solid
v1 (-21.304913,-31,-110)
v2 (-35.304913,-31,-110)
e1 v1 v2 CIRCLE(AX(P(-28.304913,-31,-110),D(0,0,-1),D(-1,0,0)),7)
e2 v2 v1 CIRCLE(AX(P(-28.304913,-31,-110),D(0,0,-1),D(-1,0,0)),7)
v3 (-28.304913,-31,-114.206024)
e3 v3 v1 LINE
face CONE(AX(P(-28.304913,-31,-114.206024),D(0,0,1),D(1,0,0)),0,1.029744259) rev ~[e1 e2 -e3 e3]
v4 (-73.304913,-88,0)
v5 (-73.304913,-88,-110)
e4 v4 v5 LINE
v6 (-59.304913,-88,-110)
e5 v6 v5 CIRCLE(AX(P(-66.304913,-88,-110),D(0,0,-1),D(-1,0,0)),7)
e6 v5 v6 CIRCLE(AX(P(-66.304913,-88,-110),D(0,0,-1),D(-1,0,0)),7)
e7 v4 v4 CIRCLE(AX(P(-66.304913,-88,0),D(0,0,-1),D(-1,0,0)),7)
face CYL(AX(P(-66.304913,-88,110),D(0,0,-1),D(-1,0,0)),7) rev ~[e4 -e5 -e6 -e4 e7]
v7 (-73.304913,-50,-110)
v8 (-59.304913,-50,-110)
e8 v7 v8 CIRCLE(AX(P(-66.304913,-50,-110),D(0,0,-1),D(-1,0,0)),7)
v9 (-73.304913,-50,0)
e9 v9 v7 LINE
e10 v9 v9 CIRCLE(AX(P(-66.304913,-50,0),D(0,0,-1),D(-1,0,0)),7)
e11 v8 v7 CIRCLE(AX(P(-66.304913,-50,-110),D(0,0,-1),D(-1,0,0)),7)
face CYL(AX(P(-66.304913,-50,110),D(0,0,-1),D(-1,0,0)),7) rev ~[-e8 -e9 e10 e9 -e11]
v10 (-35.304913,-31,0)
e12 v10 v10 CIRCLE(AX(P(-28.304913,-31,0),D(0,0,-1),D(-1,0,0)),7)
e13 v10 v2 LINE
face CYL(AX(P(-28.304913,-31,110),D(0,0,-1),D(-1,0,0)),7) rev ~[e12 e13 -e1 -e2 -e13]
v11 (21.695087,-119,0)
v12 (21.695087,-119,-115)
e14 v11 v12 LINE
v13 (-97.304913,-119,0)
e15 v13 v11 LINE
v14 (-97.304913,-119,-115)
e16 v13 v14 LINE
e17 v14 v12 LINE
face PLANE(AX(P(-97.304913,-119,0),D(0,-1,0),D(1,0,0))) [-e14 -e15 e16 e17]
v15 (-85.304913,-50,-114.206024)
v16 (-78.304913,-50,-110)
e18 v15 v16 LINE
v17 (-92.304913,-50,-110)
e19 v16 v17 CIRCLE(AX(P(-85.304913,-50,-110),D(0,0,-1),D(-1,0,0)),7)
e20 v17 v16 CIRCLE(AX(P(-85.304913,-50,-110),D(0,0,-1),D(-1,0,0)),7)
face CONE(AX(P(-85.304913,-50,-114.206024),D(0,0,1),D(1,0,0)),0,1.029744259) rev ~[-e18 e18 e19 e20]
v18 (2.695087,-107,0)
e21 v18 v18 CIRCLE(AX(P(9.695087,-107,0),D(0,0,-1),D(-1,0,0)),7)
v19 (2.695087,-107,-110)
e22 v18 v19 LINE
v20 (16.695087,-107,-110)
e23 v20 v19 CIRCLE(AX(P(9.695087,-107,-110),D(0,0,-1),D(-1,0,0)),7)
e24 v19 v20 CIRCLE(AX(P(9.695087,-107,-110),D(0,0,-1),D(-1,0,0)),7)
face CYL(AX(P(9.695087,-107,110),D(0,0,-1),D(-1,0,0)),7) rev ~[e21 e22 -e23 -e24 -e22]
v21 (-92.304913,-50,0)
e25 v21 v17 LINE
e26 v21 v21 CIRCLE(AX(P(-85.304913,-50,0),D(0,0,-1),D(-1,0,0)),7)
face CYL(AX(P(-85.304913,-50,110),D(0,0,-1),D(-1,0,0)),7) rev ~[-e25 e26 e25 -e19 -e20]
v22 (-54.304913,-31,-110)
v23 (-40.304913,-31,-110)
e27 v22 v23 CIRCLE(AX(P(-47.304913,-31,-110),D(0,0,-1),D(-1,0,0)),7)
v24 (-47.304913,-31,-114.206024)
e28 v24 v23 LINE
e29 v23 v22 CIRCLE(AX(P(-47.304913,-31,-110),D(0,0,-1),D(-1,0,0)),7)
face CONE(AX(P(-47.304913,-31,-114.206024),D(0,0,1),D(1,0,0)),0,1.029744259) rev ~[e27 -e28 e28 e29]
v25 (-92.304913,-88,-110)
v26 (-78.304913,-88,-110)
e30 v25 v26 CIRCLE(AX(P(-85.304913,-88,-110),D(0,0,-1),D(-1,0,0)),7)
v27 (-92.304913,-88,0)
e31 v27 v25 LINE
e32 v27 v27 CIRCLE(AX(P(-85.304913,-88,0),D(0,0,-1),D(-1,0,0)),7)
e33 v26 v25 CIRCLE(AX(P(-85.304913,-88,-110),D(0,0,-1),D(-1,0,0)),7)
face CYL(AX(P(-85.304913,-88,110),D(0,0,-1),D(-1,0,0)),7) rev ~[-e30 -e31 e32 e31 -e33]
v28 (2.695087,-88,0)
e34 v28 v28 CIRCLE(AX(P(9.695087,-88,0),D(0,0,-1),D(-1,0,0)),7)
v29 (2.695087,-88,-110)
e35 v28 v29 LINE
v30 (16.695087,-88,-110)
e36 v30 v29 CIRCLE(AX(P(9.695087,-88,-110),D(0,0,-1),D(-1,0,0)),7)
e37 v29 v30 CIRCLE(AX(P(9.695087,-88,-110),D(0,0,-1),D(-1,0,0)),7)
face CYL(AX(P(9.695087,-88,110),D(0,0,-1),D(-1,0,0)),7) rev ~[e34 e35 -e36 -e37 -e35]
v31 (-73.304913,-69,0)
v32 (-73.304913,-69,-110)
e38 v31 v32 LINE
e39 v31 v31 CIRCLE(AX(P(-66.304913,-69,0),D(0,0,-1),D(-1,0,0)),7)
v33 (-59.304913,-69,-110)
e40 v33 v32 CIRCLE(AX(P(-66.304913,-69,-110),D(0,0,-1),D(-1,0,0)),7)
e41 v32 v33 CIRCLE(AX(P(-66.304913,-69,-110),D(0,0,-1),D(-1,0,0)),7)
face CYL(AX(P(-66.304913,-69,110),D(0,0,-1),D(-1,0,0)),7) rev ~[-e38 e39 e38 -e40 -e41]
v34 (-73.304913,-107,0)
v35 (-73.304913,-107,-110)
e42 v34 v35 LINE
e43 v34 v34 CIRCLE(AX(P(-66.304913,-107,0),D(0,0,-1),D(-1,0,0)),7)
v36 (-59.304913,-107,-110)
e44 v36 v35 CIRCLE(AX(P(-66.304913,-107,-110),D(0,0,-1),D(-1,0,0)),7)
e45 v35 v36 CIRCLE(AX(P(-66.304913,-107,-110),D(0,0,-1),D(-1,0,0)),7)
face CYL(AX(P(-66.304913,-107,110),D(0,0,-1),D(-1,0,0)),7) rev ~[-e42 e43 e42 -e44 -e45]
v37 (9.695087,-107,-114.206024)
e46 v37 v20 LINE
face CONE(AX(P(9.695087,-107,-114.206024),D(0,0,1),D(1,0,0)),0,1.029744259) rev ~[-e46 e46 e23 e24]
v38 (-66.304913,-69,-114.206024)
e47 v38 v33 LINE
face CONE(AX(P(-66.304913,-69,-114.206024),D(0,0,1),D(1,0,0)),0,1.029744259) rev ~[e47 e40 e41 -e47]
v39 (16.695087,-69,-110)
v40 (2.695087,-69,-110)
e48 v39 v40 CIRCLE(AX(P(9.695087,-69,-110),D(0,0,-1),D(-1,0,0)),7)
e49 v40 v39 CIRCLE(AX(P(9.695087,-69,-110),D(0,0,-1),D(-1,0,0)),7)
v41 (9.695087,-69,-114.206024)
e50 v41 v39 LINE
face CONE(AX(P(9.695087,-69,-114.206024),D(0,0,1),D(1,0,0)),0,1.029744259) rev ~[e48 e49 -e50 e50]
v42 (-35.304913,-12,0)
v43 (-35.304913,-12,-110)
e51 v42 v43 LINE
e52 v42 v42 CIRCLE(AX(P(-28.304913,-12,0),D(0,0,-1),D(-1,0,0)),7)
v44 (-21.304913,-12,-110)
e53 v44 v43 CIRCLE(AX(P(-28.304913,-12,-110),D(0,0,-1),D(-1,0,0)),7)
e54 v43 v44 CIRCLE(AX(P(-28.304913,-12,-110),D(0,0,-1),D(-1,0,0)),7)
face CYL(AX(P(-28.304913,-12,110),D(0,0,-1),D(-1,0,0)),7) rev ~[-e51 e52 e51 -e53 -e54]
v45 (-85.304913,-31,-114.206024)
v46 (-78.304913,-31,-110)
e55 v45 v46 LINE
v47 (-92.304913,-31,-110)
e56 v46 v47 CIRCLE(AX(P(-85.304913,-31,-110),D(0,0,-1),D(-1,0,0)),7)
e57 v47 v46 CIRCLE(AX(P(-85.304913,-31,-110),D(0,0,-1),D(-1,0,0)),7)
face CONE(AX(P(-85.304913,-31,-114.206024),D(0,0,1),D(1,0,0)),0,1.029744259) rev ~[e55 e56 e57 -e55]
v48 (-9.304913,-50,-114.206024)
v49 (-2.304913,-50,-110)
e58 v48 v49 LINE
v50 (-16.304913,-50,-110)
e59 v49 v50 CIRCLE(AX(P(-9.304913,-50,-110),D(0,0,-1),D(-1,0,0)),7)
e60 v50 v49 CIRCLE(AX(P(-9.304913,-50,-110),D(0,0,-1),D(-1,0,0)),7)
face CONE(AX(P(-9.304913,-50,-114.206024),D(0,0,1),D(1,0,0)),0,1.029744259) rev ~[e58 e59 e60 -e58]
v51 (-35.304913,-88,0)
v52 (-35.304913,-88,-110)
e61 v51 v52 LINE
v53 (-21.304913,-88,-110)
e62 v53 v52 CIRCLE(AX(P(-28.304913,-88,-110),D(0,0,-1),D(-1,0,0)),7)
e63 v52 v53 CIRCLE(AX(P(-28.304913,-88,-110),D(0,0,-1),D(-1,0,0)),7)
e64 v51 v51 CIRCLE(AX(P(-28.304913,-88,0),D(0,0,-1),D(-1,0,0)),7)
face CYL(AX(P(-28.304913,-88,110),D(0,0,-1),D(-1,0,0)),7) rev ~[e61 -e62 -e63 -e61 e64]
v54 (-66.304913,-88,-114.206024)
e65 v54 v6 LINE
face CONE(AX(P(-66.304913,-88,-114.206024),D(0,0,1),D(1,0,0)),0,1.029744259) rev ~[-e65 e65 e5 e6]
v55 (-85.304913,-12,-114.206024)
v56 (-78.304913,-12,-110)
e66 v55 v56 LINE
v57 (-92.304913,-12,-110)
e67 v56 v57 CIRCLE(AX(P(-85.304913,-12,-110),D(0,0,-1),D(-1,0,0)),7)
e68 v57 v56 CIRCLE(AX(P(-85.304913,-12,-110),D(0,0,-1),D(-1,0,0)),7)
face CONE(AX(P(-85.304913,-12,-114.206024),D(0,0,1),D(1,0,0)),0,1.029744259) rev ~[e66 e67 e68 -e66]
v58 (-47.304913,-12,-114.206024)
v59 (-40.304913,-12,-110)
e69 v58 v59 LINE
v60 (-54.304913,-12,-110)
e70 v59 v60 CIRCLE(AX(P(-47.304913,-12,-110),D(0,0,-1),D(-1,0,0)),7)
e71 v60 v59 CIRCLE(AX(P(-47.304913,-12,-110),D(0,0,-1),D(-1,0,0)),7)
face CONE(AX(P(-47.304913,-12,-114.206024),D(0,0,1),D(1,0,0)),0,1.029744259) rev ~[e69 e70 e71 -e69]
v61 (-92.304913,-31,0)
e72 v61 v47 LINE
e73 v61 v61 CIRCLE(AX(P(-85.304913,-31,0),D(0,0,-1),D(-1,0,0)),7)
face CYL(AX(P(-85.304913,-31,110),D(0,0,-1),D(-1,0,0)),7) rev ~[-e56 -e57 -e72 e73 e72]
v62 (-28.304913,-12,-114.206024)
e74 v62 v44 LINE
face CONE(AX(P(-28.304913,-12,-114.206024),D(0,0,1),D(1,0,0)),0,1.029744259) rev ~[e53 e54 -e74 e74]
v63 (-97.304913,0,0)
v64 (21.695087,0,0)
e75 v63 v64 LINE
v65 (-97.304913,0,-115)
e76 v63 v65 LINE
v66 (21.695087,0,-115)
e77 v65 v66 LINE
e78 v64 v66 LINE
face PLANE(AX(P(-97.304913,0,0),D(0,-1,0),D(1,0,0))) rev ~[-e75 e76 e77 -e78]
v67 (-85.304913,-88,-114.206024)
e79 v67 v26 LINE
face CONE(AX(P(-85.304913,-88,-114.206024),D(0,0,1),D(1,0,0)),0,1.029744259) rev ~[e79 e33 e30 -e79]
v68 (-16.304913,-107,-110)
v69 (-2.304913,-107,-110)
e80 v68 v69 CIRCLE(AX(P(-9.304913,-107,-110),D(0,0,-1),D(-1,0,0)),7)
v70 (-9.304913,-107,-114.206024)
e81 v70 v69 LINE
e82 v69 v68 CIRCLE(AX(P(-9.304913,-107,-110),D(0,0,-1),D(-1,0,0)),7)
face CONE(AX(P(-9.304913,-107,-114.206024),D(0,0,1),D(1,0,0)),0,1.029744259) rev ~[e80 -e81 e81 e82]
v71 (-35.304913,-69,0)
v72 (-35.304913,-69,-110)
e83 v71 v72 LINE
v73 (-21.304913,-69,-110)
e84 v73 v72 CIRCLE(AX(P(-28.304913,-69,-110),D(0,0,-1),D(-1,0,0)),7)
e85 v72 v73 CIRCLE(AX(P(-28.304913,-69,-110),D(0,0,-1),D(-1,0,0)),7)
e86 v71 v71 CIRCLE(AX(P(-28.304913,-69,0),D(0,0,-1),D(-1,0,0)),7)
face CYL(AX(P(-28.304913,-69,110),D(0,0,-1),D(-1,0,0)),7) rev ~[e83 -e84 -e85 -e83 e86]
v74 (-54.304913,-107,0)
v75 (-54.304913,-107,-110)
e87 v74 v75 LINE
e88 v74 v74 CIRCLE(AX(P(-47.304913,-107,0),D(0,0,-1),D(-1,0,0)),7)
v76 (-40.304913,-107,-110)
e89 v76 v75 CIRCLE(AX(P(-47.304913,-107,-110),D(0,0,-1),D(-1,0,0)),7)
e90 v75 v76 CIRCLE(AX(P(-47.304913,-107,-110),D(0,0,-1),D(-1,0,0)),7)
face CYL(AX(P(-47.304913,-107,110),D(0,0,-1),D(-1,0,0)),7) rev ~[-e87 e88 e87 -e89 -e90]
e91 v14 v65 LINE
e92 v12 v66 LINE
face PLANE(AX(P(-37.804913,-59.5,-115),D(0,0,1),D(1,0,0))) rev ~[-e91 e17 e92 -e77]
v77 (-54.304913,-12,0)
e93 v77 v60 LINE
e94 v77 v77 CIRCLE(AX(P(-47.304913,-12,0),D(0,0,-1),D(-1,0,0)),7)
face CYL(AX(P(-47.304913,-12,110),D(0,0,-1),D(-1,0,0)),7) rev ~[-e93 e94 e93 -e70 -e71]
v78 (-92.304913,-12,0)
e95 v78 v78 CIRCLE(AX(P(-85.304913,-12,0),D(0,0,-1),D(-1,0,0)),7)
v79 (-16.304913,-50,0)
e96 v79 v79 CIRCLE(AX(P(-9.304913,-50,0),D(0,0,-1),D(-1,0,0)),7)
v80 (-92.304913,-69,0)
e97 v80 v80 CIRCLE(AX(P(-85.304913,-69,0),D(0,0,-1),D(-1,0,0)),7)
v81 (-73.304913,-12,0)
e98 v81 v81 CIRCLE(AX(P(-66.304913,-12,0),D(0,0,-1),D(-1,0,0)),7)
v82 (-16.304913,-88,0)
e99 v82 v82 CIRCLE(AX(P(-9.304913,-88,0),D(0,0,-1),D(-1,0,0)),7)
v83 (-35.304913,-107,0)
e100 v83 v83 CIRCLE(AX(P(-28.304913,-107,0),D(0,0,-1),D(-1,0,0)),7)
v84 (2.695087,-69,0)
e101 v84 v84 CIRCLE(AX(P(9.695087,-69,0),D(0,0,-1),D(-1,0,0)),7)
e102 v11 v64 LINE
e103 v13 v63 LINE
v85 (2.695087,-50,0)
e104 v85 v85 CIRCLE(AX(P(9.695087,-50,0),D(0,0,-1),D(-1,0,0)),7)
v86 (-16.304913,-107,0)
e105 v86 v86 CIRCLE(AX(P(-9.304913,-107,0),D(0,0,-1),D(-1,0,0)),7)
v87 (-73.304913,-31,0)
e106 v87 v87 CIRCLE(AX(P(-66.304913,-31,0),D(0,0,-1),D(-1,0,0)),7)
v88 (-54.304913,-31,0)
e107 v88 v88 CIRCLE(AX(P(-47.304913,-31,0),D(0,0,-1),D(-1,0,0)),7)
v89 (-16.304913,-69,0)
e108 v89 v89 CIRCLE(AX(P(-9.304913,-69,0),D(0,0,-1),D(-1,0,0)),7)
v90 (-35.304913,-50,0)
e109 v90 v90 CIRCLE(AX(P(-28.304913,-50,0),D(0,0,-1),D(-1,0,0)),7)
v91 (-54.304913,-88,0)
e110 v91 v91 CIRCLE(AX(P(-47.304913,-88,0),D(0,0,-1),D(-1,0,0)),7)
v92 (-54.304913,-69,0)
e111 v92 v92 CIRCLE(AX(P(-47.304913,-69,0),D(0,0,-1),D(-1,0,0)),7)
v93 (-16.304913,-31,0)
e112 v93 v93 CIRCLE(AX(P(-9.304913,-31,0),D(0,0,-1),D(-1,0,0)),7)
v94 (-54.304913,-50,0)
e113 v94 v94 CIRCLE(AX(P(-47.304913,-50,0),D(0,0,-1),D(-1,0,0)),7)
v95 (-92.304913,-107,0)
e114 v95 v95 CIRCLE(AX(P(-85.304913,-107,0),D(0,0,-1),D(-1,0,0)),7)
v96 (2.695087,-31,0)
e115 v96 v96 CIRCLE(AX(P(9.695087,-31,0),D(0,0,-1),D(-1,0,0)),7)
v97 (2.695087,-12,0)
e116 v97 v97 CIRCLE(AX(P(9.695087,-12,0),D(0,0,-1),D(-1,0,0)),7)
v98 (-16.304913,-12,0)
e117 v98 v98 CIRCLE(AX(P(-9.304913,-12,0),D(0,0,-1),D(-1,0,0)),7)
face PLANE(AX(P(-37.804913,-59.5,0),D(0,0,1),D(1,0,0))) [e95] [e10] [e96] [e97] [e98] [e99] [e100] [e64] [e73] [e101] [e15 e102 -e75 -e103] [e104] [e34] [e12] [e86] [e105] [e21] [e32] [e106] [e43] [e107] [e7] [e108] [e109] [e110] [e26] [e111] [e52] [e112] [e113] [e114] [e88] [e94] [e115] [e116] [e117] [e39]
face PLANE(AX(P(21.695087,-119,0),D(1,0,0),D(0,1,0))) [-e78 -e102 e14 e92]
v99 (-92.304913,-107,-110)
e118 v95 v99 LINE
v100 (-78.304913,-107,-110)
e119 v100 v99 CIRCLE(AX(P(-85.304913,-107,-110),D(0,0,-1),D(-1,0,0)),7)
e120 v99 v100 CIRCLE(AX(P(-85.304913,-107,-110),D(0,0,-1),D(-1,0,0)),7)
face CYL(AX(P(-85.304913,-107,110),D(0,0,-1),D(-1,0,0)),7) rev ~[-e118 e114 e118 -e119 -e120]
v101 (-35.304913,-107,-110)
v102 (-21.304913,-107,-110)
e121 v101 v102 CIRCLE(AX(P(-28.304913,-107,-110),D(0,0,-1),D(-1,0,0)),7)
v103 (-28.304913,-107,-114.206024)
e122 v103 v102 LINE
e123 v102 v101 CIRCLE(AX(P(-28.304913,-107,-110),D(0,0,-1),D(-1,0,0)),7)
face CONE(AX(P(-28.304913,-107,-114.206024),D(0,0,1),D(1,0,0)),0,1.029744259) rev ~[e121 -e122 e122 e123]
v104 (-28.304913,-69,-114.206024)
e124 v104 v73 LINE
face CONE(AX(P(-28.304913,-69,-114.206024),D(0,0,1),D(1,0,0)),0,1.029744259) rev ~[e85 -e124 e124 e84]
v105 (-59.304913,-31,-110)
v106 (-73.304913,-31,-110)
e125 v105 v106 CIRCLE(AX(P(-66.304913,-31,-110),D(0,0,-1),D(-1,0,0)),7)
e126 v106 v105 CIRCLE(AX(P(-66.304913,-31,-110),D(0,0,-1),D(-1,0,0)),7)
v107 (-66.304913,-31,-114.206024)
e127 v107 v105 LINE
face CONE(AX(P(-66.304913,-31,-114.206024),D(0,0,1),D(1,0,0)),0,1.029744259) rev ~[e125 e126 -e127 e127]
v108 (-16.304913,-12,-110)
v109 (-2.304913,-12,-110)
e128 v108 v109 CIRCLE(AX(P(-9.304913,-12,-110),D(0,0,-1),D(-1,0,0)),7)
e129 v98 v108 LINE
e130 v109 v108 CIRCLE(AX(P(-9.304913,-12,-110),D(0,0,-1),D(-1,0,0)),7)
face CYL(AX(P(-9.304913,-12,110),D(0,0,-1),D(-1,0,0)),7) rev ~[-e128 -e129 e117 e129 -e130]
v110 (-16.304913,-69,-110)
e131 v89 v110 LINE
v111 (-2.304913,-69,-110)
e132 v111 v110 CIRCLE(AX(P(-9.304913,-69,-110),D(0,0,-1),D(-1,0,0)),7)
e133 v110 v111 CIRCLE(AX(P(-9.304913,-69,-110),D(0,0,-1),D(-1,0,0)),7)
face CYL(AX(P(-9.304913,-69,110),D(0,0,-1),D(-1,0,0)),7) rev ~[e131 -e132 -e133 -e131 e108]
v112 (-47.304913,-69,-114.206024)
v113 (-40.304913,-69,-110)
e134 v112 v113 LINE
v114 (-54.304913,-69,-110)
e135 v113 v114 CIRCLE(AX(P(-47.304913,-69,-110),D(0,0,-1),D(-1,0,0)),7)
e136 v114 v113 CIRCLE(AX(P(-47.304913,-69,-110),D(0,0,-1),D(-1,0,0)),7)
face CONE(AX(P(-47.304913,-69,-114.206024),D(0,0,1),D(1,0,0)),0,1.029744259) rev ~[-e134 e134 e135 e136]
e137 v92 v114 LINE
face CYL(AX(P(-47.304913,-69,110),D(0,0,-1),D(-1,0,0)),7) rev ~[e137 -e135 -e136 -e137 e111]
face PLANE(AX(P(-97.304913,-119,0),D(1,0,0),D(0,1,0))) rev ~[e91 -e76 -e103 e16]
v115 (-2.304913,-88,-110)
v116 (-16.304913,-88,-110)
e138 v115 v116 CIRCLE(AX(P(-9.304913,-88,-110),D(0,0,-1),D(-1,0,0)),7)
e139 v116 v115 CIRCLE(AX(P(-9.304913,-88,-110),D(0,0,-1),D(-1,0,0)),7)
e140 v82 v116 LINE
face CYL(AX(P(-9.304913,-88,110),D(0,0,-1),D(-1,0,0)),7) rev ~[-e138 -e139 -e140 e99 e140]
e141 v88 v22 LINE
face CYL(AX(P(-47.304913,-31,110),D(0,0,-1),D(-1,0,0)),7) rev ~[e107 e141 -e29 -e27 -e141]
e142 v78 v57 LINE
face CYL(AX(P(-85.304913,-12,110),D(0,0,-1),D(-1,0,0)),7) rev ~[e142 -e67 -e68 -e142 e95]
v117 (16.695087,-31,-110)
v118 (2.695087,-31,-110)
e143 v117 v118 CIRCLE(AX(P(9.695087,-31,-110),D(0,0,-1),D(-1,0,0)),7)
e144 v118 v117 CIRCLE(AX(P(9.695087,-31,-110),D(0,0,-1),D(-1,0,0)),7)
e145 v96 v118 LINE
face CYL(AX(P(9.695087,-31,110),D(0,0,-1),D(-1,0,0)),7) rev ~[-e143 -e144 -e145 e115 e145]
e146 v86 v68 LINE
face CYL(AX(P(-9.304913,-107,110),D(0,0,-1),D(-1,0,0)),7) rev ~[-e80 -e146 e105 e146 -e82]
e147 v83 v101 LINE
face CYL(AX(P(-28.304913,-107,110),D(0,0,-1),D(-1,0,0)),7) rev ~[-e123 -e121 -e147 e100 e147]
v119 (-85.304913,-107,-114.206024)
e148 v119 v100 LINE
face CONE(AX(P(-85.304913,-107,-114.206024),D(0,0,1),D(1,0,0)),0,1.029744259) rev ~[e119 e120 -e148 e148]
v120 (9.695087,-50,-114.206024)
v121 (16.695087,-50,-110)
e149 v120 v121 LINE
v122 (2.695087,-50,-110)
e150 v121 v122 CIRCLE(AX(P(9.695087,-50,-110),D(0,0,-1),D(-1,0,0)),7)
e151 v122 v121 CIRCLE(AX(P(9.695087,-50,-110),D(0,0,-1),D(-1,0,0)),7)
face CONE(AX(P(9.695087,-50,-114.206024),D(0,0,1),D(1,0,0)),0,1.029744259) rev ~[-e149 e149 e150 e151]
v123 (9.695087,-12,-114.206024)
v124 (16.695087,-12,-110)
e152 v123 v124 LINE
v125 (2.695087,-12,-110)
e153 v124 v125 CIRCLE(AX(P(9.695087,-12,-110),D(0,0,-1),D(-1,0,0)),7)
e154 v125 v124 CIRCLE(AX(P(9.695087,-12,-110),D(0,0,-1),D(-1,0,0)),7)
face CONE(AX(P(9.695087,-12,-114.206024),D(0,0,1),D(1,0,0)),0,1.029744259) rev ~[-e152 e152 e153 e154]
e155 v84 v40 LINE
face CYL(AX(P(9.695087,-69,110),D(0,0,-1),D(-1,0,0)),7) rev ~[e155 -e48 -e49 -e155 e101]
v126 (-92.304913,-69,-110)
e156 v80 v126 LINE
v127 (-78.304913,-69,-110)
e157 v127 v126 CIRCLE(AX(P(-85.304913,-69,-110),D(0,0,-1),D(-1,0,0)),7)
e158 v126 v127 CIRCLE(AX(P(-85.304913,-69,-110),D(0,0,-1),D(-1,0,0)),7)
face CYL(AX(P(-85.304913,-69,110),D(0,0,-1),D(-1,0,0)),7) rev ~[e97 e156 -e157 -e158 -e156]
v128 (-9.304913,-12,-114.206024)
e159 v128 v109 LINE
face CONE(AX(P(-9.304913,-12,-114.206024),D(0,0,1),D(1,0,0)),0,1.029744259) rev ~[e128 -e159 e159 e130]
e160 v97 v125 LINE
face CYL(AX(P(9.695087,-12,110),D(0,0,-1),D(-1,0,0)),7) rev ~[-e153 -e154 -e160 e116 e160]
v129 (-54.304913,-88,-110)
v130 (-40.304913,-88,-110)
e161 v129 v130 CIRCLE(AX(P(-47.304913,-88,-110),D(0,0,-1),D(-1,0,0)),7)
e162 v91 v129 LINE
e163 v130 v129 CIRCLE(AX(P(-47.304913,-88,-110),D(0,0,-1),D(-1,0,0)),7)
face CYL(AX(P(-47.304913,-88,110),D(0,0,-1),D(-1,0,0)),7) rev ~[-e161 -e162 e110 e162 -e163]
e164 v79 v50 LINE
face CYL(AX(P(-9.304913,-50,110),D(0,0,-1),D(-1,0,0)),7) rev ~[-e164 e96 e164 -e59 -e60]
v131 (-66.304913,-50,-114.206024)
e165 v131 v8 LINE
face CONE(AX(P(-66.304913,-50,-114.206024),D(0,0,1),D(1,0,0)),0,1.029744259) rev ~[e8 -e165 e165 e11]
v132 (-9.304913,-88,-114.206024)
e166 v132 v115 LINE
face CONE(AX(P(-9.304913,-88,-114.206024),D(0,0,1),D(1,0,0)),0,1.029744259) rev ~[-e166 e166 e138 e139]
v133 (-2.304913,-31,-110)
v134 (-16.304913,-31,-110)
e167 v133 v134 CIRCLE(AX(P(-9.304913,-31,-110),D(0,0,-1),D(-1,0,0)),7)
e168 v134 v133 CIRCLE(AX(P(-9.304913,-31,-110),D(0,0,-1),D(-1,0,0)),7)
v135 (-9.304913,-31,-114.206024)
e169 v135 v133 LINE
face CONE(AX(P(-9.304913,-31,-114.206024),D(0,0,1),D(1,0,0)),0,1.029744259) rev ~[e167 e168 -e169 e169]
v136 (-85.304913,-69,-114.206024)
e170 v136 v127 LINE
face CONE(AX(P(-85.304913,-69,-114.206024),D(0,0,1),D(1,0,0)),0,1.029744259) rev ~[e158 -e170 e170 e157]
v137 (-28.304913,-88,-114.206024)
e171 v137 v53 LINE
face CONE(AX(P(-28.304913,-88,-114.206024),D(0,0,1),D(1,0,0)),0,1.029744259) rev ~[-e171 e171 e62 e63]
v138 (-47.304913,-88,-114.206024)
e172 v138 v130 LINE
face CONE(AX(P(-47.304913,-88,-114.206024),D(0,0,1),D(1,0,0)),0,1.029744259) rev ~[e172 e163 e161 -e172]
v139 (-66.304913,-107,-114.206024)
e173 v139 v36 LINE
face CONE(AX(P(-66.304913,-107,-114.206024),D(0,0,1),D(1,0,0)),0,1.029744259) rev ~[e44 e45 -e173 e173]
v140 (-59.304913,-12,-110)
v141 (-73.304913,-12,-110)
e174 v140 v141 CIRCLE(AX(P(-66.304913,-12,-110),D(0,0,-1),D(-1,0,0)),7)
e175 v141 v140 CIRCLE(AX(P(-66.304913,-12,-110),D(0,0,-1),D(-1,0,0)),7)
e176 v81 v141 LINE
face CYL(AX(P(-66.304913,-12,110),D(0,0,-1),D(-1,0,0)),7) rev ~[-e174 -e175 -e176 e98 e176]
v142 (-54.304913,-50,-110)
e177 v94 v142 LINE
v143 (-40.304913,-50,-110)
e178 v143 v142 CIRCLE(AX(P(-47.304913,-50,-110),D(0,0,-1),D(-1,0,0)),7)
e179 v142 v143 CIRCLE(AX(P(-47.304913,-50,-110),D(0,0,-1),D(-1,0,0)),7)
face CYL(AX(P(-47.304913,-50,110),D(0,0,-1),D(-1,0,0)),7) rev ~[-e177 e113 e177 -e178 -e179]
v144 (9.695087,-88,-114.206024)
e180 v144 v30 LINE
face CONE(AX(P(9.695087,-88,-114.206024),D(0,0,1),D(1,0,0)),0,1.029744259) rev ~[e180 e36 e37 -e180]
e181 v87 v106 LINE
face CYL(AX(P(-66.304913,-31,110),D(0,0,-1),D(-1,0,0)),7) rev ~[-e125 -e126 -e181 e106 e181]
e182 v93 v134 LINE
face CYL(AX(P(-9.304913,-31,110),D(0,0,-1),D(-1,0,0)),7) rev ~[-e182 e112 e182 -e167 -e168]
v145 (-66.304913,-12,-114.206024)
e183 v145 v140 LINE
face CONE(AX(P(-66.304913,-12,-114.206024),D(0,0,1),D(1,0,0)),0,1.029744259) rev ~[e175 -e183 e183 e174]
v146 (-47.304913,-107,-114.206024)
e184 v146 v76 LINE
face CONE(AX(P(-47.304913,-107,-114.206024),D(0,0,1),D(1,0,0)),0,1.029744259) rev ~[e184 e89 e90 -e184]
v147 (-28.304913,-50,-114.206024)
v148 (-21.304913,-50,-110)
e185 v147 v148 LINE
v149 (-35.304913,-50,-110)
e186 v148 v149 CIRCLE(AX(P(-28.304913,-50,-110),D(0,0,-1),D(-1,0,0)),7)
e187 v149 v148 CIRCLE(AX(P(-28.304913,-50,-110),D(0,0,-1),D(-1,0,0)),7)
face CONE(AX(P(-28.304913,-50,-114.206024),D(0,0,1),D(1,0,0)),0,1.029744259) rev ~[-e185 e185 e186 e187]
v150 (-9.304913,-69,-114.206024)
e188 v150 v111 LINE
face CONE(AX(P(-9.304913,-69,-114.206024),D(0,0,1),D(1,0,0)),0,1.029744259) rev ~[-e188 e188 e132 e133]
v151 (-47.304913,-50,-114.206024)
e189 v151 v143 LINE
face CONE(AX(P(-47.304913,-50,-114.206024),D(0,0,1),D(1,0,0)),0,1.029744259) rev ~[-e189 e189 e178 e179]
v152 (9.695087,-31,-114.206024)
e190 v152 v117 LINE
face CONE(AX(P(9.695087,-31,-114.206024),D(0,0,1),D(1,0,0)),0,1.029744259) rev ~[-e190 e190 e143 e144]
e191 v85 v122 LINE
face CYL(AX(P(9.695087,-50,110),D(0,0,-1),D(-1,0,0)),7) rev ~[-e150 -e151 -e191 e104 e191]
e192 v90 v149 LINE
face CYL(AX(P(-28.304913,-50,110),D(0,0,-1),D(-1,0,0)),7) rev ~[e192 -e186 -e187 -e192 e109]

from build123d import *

# Parameters (mm, degrees)
F0_W     = 119
F0_H     = 119
F1_DEPTH = 115
F2_D     = 14
F2_DEPTH = 110
F2_TIP   = 4.2060243332


with BuildPart() as f1:
    # F0 (on Top) → F1 (new body)
    with BuildSketch(Plane.XY):
        with Locations((-37.8049128657, -59.5)):
            Rectangle(F0_W, F0_H)
    extrude(amount=-F1_DEPTH)

    # F2
    with Locations(Plane.XY):
        with Locations((-85.3049128657, -12), (-66.3049128657, -12), (-47.3049128657, -12), (-28.3049128657, -12), (-9.3049128657, -12), (9.6950871343, -12), (9.6950871343, -31), (-9.3049128657, -31), (-28.3049128657, -31), (-47.3049128657, -31), (-66.3049128657, -31), (-85.3049128657, -31), (-85.3049128657, -50), (-66.3049128657, -50), (-47.3049128657, -50), (-28.3049128657, -50), (-9.3049128657, -50), (9.6950871343, -50), (9.6950871343, -69), (-9.3049128657, -69), (-28.3049128657, -69), (-47.3049128657, -69), (-66.3049128657, -69), (-85.3049128657, -69), (-85.3049128657, -88), (-66.3049128657, -88), (-47.3049128657, -88), (-28.3049128657, -88), (-9.3049128657, -88), (9.6950871343, -88), (9.6950871343, -107), (-9.3049128657, -107), (-28.3049128657, -107), (-47.3049128657, -107), (-66.3049128657, -107), (-85.3049128657, -107)):
            Hole(F2_D / 2, depth=F2_DEPTH)
            with Locations((0, 0, -(F2_DEPTH + F2_TIP / 2))):  # 118° drill point
                Cone(0, F2_D / 2, F2_TIP, mode=Mode.SUBTRACT)


solid = f1.part
